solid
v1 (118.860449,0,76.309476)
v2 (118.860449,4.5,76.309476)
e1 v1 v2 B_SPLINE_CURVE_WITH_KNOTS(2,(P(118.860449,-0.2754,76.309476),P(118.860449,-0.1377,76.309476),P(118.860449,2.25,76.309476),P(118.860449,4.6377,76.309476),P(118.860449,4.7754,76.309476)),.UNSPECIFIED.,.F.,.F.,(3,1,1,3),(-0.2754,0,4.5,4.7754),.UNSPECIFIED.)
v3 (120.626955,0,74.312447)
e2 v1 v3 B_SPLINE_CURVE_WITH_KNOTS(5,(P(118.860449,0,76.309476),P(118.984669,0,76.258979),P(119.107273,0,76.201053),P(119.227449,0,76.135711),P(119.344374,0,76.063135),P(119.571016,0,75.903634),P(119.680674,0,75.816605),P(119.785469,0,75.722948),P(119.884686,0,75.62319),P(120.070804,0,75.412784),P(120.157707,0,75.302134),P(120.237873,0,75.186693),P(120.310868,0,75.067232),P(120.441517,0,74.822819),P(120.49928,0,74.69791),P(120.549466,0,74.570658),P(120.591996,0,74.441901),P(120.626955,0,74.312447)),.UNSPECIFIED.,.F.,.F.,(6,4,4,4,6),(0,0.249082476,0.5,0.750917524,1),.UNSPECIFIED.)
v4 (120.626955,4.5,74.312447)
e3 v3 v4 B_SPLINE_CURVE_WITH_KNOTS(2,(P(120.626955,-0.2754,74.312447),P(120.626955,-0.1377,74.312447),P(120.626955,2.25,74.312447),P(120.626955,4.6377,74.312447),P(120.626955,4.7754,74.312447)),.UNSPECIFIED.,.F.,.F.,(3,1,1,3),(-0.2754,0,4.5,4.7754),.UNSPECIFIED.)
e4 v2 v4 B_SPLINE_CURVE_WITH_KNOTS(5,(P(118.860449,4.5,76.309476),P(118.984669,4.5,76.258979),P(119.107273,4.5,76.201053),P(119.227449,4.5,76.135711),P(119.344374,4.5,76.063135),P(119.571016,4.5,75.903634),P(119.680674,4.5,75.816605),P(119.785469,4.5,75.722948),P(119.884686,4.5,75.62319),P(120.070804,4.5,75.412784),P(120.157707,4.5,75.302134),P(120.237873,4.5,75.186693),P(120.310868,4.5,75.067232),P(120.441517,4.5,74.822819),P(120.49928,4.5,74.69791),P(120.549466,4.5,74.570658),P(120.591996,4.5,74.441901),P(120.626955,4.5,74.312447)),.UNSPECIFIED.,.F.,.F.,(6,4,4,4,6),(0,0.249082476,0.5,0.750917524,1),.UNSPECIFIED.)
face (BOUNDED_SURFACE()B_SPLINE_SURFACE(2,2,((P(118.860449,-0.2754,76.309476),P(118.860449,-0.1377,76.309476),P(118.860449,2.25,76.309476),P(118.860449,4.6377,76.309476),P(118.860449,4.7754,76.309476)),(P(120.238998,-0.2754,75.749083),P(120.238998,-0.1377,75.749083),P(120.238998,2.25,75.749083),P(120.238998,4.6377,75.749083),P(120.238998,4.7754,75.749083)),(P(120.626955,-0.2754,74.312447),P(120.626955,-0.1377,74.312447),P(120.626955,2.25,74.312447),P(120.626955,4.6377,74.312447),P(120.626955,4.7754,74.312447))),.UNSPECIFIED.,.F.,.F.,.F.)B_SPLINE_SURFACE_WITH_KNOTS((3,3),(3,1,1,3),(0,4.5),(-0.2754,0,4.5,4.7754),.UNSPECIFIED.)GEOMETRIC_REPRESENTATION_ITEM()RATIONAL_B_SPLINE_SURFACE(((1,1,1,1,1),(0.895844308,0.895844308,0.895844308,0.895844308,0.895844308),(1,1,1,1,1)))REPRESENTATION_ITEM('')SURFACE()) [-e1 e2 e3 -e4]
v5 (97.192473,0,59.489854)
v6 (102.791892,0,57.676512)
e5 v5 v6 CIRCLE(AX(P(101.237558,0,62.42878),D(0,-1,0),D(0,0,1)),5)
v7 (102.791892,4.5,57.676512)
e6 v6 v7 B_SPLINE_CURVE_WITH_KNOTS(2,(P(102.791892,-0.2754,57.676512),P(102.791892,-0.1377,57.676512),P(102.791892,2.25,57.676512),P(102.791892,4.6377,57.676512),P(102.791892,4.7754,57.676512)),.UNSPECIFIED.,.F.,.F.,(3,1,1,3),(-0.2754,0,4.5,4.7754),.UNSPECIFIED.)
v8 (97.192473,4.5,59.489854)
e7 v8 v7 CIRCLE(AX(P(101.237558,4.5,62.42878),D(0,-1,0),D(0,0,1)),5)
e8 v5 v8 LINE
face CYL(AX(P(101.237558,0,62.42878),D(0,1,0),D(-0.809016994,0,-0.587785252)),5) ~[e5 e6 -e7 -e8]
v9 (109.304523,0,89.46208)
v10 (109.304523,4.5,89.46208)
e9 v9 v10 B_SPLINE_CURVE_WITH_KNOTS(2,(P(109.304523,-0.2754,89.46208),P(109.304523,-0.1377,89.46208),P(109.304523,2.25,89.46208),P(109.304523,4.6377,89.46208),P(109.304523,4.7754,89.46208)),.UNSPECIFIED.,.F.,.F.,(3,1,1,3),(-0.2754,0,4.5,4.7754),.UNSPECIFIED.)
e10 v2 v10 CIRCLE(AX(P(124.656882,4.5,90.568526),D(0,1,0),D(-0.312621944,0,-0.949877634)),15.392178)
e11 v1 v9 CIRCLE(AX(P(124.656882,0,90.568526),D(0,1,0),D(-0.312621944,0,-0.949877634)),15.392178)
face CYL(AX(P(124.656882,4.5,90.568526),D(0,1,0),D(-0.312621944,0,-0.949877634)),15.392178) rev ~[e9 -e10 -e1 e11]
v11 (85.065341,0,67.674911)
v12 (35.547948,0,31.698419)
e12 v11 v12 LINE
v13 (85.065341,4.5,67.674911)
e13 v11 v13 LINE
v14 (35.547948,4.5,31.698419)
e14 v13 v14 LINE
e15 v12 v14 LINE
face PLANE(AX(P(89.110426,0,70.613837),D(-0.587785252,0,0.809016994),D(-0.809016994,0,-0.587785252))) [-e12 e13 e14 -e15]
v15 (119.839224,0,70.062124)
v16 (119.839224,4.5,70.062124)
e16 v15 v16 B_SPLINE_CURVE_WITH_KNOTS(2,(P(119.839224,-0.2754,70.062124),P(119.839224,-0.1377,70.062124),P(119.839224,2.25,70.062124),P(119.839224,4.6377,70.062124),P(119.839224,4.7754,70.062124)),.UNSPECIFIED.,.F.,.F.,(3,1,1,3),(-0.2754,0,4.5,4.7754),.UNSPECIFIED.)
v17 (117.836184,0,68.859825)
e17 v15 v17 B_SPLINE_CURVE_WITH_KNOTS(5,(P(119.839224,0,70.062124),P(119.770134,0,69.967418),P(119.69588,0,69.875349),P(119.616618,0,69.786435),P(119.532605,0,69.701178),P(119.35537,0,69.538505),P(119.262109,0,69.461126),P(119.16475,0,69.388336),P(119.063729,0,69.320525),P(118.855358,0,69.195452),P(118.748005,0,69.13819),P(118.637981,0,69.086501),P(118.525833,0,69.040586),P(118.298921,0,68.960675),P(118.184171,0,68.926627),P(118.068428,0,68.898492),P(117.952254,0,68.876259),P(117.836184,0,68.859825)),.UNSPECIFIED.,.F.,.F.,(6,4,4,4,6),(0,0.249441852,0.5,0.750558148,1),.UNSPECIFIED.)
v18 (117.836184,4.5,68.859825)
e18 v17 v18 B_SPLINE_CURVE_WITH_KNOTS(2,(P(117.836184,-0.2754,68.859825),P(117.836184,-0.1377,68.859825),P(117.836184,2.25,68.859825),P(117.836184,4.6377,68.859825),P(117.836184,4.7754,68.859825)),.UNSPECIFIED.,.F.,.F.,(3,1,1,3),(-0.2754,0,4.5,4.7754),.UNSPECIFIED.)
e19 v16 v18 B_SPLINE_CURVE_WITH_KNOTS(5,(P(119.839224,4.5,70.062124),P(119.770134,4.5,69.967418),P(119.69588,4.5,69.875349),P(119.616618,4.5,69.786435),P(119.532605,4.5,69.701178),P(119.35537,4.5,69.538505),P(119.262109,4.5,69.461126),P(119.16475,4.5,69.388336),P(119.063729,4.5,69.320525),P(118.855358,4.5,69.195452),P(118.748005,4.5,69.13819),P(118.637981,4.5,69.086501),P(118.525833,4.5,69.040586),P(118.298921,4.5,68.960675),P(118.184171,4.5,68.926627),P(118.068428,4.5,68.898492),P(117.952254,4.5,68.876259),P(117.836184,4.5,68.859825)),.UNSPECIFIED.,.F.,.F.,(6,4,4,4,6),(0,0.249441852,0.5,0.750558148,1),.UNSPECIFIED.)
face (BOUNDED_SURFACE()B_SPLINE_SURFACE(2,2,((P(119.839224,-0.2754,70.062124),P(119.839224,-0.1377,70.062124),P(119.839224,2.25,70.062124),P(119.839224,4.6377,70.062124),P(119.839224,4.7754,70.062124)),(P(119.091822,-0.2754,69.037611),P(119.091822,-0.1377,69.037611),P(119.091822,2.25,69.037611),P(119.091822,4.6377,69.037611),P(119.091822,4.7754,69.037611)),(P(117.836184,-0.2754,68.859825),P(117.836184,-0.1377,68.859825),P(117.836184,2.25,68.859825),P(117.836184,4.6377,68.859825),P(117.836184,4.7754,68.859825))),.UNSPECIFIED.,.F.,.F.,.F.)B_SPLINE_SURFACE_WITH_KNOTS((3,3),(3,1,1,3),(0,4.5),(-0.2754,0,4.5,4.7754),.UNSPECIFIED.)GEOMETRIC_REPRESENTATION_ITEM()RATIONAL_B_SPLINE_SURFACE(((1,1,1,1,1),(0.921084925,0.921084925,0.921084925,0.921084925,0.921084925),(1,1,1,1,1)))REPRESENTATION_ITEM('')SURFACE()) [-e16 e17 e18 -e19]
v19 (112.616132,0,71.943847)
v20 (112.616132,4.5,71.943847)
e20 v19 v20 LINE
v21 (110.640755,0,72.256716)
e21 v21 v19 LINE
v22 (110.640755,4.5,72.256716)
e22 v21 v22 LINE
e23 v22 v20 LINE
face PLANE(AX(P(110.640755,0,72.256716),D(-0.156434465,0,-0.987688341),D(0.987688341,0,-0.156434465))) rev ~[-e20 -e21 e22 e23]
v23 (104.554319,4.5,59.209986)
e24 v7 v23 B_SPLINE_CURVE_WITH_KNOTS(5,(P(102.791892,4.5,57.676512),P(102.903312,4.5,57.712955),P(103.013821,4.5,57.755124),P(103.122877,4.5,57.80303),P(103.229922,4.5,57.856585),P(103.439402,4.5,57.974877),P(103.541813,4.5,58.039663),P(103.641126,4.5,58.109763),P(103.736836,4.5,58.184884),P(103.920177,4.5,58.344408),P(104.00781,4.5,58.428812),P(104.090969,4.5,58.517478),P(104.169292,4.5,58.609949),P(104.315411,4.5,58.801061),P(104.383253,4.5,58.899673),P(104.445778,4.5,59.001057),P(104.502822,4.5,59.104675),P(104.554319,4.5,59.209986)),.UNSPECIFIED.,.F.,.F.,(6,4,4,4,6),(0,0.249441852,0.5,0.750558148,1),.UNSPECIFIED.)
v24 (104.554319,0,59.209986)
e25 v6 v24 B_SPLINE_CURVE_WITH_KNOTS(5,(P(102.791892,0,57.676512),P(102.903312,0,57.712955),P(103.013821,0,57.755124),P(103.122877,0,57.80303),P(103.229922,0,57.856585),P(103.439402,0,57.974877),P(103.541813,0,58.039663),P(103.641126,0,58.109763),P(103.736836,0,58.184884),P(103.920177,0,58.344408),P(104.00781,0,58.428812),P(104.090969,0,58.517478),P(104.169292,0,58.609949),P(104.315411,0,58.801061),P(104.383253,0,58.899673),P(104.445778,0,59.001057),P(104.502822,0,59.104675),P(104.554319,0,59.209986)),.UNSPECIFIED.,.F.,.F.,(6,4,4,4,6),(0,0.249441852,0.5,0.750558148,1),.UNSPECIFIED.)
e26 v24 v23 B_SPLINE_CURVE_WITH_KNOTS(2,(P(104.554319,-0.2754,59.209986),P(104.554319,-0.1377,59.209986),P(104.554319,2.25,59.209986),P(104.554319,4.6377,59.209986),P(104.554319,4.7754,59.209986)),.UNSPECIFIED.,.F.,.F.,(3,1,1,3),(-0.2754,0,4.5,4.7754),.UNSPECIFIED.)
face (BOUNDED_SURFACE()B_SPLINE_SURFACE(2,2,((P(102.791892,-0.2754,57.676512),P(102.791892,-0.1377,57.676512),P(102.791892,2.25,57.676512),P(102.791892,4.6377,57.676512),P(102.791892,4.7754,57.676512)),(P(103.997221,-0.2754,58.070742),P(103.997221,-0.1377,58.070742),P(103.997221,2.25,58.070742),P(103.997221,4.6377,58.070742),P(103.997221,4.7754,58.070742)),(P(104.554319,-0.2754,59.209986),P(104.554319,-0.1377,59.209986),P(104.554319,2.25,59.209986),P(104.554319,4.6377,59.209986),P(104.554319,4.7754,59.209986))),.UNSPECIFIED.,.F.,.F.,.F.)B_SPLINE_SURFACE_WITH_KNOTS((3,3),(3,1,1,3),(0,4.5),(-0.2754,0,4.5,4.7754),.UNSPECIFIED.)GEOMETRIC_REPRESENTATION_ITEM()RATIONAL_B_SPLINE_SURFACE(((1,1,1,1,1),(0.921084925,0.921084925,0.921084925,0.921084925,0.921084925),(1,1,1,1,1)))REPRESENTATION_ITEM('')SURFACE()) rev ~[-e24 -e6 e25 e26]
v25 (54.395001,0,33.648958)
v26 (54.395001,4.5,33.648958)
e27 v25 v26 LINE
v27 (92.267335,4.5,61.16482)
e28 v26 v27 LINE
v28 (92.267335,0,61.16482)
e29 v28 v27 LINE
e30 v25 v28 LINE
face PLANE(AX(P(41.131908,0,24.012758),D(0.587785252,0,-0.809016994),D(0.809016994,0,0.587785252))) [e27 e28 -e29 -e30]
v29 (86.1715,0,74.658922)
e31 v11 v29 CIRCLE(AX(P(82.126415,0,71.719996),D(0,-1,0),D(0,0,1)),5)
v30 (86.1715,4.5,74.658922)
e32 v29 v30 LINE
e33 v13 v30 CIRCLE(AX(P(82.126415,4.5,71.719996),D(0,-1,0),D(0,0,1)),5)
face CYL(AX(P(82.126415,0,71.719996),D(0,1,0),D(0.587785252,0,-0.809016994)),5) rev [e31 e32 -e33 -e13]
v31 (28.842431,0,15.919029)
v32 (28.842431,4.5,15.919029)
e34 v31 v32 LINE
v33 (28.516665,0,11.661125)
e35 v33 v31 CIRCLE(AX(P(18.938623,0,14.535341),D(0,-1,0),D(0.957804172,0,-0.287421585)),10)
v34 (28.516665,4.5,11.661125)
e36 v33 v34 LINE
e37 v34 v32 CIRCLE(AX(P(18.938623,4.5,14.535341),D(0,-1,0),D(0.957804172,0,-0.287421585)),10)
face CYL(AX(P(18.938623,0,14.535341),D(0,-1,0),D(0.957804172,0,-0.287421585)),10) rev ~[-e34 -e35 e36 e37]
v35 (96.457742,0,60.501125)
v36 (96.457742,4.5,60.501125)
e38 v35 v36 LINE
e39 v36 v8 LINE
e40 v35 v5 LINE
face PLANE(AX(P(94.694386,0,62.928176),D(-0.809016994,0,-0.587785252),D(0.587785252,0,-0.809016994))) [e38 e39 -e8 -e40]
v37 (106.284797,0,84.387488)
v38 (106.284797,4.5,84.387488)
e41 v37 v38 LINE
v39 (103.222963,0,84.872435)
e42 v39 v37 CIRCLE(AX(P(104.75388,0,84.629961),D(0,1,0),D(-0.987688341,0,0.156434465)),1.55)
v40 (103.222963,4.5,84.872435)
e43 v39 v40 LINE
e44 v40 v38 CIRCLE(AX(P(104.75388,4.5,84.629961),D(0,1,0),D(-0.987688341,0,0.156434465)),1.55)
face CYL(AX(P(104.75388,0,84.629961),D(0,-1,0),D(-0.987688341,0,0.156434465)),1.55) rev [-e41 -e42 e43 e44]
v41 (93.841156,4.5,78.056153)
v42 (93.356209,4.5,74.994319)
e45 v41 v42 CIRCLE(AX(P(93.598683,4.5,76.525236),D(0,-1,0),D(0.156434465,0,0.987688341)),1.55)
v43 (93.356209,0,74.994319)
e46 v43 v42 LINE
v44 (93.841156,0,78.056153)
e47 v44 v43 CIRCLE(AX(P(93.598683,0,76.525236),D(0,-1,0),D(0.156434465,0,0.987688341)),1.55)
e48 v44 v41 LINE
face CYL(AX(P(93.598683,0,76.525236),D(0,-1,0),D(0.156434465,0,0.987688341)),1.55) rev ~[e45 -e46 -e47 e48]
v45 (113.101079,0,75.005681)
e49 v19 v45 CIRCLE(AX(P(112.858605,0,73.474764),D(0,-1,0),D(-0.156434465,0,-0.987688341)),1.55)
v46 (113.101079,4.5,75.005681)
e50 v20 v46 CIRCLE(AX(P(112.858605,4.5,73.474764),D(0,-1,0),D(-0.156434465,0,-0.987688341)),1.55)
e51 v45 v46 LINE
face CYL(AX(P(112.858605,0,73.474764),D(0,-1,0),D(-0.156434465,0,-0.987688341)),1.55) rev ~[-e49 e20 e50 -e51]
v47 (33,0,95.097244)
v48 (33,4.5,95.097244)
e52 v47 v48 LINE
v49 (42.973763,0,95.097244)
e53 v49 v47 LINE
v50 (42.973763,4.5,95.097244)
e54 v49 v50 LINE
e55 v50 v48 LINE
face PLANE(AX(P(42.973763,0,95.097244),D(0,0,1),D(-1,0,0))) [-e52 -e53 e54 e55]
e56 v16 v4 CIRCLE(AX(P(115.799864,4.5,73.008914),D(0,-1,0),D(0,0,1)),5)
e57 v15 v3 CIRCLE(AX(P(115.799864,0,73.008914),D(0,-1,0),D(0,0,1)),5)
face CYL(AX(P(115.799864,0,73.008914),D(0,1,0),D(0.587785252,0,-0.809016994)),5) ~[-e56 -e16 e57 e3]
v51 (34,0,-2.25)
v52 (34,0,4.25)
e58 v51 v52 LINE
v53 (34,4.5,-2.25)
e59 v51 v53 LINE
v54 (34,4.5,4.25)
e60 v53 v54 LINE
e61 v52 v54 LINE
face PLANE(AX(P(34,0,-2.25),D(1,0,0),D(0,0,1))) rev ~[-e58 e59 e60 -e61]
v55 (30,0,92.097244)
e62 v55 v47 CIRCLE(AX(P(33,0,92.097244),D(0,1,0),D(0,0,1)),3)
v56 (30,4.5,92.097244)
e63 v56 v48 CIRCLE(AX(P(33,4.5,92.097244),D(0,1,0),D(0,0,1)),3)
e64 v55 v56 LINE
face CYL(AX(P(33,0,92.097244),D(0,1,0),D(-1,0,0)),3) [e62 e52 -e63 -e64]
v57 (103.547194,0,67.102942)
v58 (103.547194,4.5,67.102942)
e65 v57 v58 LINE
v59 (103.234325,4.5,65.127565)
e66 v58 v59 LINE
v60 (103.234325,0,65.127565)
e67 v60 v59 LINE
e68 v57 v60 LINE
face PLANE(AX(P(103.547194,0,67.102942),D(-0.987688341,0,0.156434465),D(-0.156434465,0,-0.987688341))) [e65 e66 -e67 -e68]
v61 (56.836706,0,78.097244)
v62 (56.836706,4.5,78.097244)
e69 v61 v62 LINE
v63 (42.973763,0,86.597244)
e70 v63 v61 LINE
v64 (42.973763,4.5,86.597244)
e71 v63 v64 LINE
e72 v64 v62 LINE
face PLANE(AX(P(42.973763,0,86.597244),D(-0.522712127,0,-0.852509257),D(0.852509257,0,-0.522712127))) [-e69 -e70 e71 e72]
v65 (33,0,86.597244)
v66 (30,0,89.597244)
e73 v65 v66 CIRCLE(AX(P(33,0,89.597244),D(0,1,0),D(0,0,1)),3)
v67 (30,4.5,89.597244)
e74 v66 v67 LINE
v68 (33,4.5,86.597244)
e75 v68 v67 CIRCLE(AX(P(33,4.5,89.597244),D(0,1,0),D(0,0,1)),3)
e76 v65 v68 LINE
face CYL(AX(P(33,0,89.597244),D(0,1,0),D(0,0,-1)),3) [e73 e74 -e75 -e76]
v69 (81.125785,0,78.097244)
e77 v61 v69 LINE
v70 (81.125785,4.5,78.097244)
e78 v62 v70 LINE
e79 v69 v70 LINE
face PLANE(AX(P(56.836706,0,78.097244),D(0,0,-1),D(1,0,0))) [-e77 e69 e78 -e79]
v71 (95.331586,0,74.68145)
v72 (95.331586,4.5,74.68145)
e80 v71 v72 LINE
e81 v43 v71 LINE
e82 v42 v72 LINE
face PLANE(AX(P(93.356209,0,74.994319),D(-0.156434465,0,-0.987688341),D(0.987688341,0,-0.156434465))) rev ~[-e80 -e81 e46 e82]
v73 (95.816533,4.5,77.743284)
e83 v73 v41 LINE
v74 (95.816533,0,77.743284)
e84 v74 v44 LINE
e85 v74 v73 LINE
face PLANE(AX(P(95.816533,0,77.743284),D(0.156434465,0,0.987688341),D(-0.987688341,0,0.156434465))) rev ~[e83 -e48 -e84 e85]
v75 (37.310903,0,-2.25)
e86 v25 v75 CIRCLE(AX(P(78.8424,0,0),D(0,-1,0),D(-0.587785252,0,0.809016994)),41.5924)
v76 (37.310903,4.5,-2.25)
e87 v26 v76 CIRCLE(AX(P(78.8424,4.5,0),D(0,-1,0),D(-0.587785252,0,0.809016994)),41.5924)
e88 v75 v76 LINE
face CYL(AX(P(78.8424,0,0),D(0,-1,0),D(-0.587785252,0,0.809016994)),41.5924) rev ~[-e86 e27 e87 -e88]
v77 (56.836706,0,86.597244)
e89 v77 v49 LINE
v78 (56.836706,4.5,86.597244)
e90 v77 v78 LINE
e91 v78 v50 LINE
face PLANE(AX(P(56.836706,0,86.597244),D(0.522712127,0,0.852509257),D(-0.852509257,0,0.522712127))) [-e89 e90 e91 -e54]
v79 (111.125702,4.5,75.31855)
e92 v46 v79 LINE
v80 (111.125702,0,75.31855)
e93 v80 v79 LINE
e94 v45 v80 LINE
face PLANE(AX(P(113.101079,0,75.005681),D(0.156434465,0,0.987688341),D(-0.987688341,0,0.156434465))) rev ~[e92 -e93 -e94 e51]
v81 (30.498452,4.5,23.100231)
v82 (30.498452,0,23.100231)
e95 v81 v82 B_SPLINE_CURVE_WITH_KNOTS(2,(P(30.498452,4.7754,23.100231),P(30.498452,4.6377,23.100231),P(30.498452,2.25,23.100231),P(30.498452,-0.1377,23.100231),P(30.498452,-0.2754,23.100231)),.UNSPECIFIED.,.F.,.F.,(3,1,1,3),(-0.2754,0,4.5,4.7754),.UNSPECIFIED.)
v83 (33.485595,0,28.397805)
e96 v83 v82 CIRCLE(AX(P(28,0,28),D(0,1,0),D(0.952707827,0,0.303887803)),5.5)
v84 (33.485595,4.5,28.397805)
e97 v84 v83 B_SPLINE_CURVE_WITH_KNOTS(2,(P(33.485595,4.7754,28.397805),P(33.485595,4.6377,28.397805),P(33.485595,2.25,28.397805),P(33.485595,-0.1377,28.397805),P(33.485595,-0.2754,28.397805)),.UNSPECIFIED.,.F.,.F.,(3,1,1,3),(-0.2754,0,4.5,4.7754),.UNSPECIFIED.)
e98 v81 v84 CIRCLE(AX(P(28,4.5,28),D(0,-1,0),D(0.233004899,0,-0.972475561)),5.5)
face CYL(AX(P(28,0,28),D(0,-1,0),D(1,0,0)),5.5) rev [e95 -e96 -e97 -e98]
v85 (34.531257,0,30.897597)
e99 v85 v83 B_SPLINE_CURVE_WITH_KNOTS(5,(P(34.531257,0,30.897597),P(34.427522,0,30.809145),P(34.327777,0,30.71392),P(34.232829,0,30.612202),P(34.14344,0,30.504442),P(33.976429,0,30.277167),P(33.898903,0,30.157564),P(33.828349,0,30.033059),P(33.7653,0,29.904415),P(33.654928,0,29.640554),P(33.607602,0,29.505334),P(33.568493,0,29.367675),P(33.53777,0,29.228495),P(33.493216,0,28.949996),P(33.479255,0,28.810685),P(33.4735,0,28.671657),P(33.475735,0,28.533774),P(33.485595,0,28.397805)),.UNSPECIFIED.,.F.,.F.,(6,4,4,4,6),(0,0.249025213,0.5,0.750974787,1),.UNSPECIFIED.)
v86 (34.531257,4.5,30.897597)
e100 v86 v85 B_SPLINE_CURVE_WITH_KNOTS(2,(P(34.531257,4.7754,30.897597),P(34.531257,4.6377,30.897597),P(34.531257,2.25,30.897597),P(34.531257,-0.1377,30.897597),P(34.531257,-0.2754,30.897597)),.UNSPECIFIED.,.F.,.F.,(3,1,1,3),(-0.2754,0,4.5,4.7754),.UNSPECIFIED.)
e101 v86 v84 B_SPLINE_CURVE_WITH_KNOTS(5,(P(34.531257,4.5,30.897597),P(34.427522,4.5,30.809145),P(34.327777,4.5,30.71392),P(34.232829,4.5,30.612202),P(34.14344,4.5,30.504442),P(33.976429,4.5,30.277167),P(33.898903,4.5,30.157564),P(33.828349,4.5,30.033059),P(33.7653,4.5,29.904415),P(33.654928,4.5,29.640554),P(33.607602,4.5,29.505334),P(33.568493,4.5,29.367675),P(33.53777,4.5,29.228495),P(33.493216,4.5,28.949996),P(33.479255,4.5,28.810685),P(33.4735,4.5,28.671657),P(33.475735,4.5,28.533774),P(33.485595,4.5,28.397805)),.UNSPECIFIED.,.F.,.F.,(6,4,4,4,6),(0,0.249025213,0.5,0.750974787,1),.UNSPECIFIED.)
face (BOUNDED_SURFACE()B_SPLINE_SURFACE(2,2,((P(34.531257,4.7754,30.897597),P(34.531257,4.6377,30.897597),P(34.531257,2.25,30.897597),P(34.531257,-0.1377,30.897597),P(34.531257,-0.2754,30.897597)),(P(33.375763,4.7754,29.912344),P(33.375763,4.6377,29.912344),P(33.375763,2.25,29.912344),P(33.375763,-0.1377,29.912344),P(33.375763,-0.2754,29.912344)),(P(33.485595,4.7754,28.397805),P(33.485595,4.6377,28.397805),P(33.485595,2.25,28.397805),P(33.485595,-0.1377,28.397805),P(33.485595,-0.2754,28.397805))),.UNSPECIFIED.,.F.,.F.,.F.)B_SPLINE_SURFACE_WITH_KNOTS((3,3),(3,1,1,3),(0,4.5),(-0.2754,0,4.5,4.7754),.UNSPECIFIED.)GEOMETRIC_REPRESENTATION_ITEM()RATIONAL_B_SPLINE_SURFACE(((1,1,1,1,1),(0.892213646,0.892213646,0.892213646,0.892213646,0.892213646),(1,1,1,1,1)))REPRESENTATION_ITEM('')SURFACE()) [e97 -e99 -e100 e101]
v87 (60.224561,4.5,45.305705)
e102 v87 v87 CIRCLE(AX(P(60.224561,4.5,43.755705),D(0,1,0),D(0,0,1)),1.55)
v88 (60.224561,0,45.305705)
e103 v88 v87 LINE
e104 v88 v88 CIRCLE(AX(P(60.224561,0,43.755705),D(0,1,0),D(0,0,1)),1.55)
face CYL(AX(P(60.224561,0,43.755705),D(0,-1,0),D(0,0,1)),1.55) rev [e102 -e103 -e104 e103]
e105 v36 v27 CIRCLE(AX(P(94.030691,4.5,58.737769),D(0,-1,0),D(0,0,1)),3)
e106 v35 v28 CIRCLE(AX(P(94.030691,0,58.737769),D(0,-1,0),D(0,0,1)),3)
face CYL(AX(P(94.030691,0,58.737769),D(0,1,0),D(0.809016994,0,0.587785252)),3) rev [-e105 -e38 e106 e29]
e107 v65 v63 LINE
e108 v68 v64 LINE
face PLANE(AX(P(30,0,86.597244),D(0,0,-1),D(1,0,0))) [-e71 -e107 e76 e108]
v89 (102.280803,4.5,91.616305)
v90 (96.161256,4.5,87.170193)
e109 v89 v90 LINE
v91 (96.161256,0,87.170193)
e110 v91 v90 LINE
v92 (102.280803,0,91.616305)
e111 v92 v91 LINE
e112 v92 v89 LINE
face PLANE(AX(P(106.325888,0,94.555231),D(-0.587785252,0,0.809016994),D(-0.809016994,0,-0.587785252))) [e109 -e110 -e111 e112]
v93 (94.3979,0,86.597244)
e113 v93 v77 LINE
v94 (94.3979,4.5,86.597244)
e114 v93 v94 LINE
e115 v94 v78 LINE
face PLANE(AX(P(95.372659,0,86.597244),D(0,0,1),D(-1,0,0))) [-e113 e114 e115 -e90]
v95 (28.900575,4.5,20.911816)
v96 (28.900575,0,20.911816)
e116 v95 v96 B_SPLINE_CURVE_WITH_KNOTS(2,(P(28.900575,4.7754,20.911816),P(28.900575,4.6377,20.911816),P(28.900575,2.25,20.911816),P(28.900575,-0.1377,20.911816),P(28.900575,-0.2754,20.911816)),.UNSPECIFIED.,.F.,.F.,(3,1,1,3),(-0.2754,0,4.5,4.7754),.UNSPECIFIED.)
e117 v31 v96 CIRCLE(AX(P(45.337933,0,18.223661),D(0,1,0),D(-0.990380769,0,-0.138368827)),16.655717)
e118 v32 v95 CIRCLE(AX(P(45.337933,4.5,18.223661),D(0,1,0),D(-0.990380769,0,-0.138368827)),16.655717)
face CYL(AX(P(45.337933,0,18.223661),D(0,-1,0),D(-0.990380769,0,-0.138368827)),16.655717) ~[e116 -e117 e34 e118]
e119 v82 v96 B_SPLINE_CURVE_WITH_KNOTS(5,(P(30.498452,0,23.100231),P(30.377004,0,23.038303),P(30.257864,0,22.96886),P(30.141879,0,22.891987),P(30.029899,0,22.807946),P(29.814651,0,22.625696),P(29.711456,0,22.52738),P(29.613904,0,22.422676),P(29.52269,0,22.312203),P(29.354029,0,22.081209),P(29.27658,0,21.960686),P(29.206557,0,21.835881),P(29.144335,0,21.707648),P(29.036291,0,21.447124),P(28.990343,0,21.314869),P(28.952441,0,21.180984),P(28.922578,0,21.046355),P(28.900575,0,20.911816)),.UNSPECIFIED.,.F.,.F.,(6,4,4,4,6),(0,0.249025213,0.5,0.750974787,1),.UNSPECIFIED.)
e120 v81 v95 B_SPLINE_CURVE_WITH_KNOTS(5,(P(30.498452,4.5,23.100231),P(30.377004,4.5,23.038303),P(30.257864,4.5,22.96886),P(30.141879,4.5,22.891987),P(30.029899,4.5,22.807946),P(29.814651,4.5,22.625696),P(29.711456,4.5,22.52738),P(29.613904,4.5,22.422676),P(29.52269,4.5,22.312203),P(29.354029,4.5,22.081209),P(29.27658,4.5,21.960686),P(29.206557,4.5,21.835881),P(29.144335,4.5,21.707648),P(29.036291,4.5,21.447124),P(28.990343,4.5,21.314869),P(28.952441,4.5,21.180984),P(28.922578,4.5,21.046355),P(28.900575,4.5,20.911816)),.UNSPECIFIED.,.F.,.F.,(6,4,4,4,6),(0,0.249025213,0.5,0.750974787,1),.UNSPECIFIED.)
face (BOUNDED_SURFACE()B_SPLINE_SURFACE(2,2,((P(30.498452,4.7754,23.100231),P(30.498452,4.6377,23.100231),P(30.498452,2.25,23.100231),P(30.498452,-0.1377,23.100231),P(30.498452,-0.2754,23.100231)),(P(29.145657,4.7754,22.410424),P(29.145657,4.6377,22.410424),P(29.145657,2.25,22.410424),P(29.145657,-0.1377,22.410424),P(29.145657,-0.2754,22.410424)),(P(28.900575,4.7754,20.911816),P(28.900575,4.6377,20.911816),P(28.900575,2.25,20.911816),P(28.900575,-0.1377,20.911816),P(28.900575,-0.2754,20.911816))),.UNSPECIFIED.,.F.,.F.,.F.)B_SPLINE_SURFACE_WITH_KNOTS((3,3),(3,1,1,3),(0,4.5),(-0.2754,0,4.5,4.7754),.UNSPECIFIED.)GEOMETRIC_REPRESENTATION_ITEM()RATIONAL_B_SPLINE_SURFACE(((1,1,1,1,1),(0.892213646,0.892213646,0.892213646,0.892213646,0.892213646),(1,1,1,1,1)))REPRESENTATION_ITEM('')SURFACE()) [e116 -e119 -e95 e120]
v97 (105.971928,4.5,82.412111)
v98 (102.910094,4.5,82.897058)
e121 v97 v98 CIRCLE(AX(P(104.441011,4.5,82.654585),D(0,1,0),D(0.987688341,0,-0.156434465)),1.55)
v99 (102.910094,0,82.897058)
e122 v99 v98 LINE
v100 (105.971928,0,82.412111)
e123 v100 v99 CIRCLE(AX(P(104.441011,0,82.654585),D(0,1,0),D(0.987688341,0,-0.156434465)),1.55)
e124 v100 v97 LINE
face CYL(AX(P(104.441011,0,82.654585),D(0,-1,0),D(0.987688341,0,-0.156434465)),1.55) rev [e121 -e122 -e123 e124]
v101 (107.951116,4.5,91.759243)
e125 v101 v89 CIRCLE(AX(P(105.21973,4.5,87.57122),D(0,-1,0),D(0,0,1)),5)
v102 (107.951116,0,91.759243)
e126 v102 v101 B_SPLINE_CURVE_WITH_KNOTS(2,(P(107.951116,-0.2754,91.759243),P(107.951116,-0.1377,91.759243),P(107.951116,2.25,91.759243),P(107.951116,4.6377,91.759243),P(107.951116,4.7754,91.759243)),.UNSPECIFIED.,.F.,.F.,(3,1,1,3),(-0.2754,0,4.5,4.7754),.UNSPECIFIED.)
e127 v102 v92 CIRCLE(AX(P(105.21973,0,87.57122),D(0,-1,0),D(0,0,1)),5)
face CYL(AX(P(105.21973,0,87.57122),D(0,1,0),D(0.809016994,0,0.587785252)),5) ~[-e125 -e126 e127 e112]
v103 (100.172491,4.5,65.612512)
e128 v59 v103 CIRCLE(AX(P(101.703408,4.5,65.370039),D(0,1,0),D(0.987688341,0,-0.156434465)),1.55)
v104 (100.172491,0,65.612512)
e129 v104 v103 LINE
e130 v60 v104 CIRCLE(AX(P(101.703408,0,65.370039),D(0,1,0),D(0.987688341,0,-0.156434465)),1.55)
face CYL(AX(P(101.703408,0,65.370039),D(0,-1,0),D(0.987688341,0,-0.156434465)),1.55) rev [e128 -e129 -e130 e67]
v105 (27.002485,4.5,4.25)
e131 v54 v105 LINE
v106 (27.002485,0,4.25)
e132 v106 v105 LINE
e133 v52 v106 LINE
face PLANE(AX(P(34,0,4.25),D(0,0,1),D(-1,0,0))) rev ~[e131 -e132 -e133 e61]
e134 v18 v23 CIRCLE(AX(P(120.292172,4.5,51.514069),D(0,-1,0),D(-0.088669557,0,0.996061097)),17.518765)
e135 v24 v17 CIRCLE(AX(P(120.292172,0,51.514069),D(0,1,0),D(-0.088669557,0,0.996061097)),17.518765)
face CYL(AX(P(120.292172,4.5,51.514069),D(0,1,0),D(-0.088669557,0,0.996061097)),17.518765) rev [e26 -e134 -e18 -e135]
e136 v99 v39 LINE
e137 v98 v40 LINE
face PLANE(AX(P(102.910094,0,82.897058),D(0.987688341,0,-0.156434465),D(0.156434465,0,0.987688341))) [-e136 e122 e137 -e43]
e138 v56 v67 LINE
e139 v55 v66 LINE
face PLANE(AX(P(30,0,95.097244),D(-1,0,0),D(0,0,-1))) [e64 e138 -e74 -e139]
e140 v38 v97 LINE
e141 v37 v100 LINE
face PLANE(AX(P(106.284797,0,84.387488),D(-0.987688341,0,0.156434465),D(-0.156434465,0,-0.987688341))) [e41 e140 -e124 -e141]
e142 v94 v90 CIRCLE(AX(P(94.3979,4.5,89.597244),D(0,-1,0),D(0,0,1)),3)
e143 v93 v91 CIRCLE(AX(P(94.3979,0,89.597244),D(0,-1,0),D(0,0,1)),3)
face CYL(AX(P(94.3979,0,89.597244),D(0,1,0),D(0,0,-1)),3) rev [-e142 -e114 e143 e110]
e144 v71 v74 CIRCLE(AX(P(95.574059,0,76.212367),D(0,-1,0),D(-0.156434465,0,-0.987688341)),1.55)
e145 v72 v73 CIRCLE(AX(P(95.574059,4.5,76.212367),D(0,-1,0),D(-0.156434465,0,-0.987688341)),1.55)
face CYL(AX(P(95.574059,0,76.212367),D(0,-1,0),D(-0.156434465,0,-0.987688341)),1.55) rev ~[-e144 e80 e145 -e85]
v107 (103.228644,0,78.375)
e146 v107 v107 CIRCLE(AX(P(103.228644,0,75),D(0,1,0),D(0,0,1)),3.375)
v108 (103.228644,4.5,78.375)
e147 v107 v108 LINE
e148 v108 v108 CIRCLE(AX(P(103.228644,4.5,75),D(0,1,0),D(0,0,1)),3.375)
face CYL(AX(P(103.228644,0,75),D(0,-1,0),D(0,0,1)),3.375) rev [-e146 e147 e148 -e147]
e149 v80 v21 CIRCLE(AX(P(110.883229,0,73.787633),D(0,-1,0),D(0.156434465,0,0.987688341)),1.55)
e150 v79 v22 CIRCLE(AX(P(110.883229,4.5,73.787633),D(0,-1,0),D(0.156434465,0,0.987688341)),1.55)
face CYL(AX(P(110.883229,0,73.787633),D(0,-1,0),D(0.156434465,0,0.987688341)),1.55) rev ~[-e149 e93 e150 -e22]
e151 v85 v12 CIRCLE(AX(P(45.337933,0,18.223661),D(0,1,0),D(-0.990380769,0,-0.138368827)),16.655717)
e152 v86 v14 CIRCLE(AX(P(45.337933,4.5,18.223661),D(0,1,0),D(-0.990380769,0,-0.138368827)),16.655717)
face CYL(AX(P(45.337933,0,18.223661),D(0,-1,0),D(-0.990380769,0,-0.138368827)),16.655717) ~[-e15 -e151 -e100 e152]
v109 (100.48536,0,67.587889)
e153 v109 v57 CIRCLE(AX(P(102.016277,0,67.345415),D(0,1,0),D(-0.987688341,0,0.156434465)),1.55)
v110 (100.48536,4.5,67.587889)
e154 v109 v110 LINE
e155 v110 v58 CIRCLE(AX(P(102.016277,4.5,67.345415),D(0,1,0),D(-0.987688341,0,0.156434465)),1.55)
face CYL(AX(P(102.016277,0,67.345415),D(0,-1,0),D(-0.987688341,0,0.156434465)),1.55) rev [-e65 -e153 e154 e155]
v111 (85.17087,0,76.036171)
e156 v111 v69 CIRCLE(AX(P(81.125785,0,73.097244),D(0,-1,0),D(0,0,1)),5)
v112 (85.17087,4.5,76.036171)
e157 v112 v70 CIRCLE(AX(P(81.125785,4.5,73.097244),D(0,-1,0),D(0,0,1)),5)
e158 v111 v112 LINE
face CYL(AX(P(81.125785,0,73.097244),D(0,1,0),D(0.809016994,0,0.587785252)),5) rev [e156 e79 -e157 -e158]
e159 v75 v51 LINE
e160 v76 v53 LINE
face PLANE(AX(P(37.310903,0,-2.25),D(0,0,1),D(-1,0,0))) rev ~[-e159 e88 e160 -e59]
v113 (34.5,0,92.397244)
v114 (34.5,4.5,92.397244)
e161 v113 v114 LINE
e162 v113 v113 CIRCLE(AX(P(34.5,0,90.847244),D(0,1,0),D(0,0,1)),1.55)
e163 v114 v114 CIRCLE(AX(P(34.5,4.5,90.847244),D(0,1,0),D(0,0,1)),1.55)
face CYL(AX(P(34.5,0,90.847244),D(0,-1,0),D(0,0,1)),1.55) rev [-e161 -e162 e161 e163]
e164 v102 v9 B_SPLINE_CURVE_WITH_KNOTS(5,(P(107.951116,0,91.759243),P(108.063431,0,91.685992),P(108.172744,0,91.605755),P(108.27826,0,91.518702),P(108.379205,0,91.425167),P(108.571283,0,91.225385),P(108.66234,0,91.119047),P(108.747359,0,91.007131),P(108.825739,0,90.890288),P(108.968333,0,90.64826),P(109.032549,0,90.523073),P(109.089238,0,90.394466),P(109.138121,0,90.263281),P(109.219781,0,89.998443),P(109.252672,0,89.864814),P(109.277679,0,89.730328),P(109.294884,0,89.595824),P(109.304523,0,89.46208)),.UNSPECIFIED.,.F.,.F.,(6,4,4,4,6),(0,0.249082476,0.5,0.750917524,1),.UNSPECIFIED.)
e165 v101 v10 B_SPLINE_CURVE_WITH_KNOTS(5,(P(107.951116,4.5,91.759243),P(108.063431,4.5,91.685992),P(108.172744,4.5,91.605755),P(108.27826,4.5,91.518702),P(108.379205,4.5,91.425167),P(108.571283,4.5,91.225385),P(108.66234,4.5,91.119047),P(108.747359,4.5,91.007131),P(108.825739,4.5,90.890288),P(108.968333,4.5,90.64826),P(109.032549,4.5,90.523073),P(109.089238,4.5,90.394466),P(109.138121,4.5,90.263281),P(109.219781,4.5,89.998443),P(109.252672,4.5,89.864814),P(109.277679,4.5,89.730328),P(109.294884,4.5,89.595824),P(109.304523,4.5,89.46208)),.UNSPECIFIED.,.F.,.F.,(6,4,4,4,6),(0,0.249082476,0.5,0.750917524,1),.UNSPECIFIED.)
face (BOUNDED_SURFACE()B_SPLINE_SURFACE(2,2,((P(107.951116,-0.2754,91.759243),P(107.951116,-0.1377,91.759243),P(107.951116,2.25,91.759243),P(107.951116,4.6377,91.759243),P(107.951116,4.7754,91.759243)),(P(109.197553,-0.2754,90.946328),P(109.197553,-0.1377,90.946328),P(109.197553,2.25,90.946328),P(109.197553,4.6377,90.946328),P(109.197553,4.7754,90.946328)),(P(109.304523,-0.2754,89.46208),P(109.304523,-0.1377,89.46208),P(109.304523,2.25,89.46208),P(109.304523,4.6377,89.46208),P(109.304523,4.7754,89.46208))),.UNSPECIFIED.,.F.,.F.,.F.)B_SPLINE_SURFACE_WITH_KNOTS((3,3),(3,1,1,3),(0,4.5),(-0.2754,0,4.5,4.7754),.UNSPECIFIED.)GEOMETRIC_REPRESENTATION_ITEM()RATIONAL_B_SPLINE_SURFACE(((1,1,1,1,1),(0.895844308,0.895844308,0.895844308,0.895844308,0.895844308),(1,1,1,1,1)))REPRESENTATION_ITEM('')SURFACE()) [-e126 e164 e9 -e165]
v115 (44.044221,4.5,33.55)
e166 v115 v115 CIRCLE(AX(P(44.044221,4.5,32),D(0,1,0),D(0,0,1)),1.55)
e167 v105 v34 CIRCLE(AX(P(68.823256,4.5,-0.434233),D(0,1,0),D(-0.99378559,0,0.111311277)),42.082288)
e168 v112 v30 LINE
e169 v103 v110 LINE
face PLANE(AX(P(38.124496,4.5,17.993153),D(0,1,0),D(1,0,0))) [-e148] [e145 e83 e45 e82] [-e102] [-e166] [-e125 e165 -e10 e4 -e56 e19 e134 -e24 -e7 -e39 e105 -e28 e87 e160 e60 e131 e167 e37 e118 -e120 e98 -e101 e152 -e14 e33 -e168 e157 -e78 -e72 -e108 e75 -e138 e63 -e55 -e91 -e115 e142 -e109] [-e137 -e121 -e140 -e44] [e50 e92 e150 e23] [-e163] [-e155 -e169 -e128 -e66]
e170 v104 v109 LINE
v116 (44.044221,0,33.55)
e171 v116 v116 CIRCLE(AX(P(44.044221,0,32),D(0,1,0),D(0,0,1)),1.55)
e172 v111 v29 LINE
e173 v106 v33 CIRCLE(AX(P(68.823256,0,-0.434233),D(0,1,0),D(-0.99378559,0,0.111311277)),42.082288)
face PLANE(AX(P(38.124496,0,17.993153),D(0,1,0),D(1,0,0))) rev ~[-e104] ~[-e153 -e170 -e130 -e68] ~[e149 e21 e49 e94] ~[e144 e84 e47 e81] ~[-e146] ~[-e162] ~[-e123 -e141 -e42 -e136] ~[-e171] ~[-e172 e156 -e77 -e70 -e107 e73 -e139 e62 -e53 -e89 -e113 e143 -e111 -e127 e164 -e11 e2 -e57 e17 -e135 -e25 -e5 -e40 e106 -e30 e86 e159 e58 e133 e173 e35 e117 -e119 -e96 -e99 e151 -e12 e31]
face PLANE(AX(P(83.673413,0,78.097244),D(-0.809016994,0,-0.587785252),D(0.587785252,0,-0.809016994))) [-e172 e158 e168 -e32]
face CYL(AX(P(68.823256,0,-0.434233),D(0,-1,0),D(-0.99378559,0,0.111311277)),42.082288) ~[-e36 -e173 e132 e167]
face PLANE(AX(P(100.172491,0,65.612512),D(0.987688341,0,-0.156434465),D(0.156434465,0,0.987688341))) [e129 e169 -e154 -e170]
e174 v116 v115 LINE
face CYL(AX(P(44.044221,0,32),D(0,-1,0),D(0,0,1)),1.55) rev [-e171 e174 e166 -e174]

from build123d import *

# Parameters (mm, degrees)
SKETCH_3_R             = 3.375
SKETCH_3_R_2           = 1.55
EXTRUDE_1_DEPTH        = 4.5
FILLET_1_R             = 5
CUT_EXTRUDE_2_REACH    = 155.806
FILLET_3_R             = 3
EXTRUDE_4428_DEPTH     = 4.5
SKETCH_7_R             = 5.5
CUT_EXTRUDE_4738_DEPTH = 154.806186932
FILLET_1_2_R           = 3


with BuildPart() as part:
    # 草图3 → 凸台-拉伸1 (new body)
    with BuildSketch(Plane(origin=(0, 0, 0), x_dir=(1, 0, 0), z_dir=(0, 1, 0))):
        with BuildLine():
            Line((41.131907973, -24.012757507), (94.694386062, -62.928175745))
            Line((94.694386062, -62.928175745), (100.131399646, -55.444768547))
            Line((100.131399646, -55.444768547), (122.783875489, -71.902755611))
            Line((122.783875489, -71.902755611), (106.325888424, -94.555231453))
            Line((106.325888424, -94.555231453), (95.372658906, -86.597244389))
            Line((95.372658906, -86.597244389), (56.836706291, -86.597244389))
            Line((56.836706291, -86.597244389), (42.973762785, -95.097244389))
            Line((42.973762785, -95.097244389), (30, -95.097244389))
            Line((30, -95.097244389), (30, -86.597244389))
            Line((30, -86.597244389), (42.973762785, -86.597244389))
            Line((42.973762785, -86.597244389), (56.836706291, -78.097244389))
            Line((56.836706291, -78.097244389), (83.673412582, -78.097244389))
            Line((83.673412582, -78.097244389), (89.110426166, -70.613837191))
            Line((89.110426166, -70.613837191), (35.547948076, -31.698418954))
            ThreePointArc((35.547948076, -31.698418954), (34.497097301, -25.063608282), (41.131907973, -24.012757507))
        make_face()
        with Locations(Location((103.228644035, -75, 0), (0, 0, 270))):
            Circle(SKETCH_3_R, mode=Mode.SUBTRACT)
        with Locations(Location((44.044221455, -32, 0), (0, 0, 270))):
            Circle(SKETCH_3_R_2, mode=Mode.SUBTRACT)
        with Locations(Location((60.224561343, -43.755705046, 0), (0, 0, 270))):
            Circle(SKETCH_3_R_2, mode=Mode.SUBTRACT)
        with Locations(Location((34.5, -90.847244389, 0), (0, 0, 270))):
            Circle(SKETCH_3_R_2, mode=Mode.SUBTRACT)
        with BuildLine():
            Line((110.640755254, -72.256715968), (112.616131935, -71.943847038))
            ThreePointArc((112.616131935, -71.943847038), (114.389522284, -73.232290545), (113.101078777, -75.005680894))
            Line((113.101078777, -75.005680894), (111.125702096, -75.318549824))
            ThreePointArc((111.125702096, -75.318549824), (109.352311747, -74.030106317), (110.640755254, -72.256715968))
        make_face(mode=Mode.SUBTRACT)
        with BuildLine():
            Line((103.547193859, -67.10294194), (103.234324929, -65.127565258))
            ThreePointArc((103.234324929, -65.127565258), (101.46093458, -63.839121751), (100.172491073, -65.6125121))
            Line((100.172491073, -65.6125121), (100.485360003, -67.587888781))
            ThreePointArc((100.485360003, -67.587888781), (102.258750352, -68.876332288), (103.547193859, -67.10294194))
        make_face(mode=Mode.SUBTRACT)
        with BuildLine():
            Line((95.816532817, -77.743284032), (93.841156135, -78.056152962))
            ThreePointArc((93.841156135, -78.056152962), (92.067765787, -76.767709455), (93.356209294, -74.994319106))
            Line((93.356209294, -74.994319106), (95.331585975, -74.681450176))
            ThreePointArc((95.331585975, -74.681450176), (97.104976324, -75.969893683), (95.816532817, -77.743284032))
        make_face(mode=Mode.SUBTRACT)
        with BuildLine():
            Line((102.910094211, -82.89705806), (103.222963142, -84.872434742))
            ThreePointArc((103.222963142, -84.872434742), (104.99635349, -86.160878249), (106.284796997, -84.3874879))
            Line((106.284796997, -84.3874879), (105.971928067, -82.412111219))
            ThreePointArc((105.971928067, -82.412111219), (104.198537719, -81.123667712), (102.910094211, -82.89705806))
        make_face(mode=Mode.SUBTRACT)
    extrude(amount=EXTRUDE_1_DEPTH)

    # Fillet 1
    fillet_1_edges = [part.edges().sort_by_distance(p)[0] for p in [
        (83.673412582, 2.25, 78.097244389),
        (89.110426166, 2.25, 70.613837191),
        (100.131399646, 2.25, 55.444768547),
        (122.783875489, 2.25, 71.902755611),
        (106.325888424, 2.25, 94.555231453),
    ]]
    fillet(fillet_1_edges, radius=FILLET_1_R)

    # 草图4 → 圆弧-美观2 (cut, up to next)
    with BuildSketch(Plane(origin=(0, 4.5, 0), x_dir=(1, 0, 0), z_dir=(0, 1, 0)), mode=Mode.PRIVATE) as cut_extrude_2_sk1:
        with BuildLine():
            ThreePointArc((118.738790517, -68.963829349), (109.994899962, -65.687047674), (104.176484618, -58.383694808))
            Line((104.176484618, -58.383694808), (118.738790517, -68.963829349))
        make_face()
    cut_extrude_2_tool1 = extrude(cut_extrude_2_sk1.sketch, amount=-CUT_EXTRUDE_2_REACH, mode=Mode.PRIVATE) & part.part
    # 草图4 → 圆弧-美观2 (cut, up to next)
    with BuildSketch(Plane(origin=(0, 4.5, 0), x_dir=(1, 0, 0), z_dir=(0, 1, 0)), mode=Mode.PRIVATE) as cut_extrude_2_sk2:
        with BuildLine():
            ThreePointArc((119.844949227, -75.947840583), (112.204348353, -81.521230905), (109.264814686, -90.510146481))
            Line((109.264814686, -90.510146481), (119.844949227, -75.947840583))
        make_face()
    cut_extrude_2_tool2 = extrude(cut_extrude_2_sk2.sketch, amount=-CUT_EXTRUDE_2_REACH, mode=Mode.PRIVATE) & part.part
    add(cut_extrude_2_tool1.solids().sort_by_distance((110.868828, 4.5, 64.48419))[0], mode=Mode.SUBTRACT)
    add(cut_extrude_2_tool2.solids().sort_by_distance((113.606622, 4.5, 82.540042))[0], mode=Mode.SUBTRACT)

    # 圆角-美观3
    fillet_3_edges = [part.edges().sort_by_distance(p)[0] for p in [
        (119.844949227, 2.25, 75.947840583),
        (109.264814686, 2.25, 90.510146481),
        (118.738790517, 2.25, 68.963829349),
        (104.176484618, 2.25, 58.383694808),
        (95.372658906, 2.25, 86.597244389),
        (30, 2.25, 95.097244389),
        (30, 2.25, 86.597244389),
        (94.694386062, 2.25, 62.928175745),
    ]]
    fillet(fillet_3_edges, radius=FILLET_3_R)

    # 草图5 → Extrude 4428 (add)
    with BuildSketch(Plane(origin=(0, 0, 0), x_dir=(1, 0, 0), z_dir=(0, 1, 0))):
        with BuildLine():
            Line((34, -4.25), (27.002484736, -4.25))
            ThreePointArc((27.002484736, -4.25), (27.592720055, -7.98965282), (28.516665153, -11.661124786))
            ThreePointArc((28.516665153, -11.661124786), (28.909483525, -13.772484831), (28.842431122, -15.919028912))
            ThreePointArc((28.842431122, -15.919028912), (30.008908493, -24.737793116), (35.547948076, -31.698418954))
            ThreePointArc((35.547948076, -31.698418954), (34.497097301, -25.063608282), (41.131907973, -24.012757507))
            Line((41.131907973, -24.012757507), (54.395000648, -33.648958388))
            ThreePointArc((54.395000648, -33.648958388), (41.285942601, -17.872891342), (37.310903062, 2.249999975))
            Line((37.310903062, 2.249999975), (34, 2.249999975))
            Line((34, 2.249999975), (34, -4.25))
        make_face()
    extrude(amount=EXTRUDE_4428_DEPTH)

    # 草图7 → Cut-Extrude 4738 (cut, through all)
    with BuildSketch(Plane(origin=(0, 0, 0), x_dir=(1, 0, 0), z_dir=(0, 1, 0))):
        with Locations((28, -28)):
            Circle(SKETCH_7_R)
    extrude(amount=CUT_EXTRUDE_4738_DEPTH, mode=Mode.SUBTRACT)

    # Fillet 1 2
    fillet_1_2_edges = [part.edges().sort_by_distance(p)[0] for p in [
        (33.239893047, 2.25, 29.671382916),
        (29.281526942, 2.25, 22.651384413),
    ]]
    fillet(fillet_1_2_edges, radius=FILLET_1_2_R)


solid = part.part
